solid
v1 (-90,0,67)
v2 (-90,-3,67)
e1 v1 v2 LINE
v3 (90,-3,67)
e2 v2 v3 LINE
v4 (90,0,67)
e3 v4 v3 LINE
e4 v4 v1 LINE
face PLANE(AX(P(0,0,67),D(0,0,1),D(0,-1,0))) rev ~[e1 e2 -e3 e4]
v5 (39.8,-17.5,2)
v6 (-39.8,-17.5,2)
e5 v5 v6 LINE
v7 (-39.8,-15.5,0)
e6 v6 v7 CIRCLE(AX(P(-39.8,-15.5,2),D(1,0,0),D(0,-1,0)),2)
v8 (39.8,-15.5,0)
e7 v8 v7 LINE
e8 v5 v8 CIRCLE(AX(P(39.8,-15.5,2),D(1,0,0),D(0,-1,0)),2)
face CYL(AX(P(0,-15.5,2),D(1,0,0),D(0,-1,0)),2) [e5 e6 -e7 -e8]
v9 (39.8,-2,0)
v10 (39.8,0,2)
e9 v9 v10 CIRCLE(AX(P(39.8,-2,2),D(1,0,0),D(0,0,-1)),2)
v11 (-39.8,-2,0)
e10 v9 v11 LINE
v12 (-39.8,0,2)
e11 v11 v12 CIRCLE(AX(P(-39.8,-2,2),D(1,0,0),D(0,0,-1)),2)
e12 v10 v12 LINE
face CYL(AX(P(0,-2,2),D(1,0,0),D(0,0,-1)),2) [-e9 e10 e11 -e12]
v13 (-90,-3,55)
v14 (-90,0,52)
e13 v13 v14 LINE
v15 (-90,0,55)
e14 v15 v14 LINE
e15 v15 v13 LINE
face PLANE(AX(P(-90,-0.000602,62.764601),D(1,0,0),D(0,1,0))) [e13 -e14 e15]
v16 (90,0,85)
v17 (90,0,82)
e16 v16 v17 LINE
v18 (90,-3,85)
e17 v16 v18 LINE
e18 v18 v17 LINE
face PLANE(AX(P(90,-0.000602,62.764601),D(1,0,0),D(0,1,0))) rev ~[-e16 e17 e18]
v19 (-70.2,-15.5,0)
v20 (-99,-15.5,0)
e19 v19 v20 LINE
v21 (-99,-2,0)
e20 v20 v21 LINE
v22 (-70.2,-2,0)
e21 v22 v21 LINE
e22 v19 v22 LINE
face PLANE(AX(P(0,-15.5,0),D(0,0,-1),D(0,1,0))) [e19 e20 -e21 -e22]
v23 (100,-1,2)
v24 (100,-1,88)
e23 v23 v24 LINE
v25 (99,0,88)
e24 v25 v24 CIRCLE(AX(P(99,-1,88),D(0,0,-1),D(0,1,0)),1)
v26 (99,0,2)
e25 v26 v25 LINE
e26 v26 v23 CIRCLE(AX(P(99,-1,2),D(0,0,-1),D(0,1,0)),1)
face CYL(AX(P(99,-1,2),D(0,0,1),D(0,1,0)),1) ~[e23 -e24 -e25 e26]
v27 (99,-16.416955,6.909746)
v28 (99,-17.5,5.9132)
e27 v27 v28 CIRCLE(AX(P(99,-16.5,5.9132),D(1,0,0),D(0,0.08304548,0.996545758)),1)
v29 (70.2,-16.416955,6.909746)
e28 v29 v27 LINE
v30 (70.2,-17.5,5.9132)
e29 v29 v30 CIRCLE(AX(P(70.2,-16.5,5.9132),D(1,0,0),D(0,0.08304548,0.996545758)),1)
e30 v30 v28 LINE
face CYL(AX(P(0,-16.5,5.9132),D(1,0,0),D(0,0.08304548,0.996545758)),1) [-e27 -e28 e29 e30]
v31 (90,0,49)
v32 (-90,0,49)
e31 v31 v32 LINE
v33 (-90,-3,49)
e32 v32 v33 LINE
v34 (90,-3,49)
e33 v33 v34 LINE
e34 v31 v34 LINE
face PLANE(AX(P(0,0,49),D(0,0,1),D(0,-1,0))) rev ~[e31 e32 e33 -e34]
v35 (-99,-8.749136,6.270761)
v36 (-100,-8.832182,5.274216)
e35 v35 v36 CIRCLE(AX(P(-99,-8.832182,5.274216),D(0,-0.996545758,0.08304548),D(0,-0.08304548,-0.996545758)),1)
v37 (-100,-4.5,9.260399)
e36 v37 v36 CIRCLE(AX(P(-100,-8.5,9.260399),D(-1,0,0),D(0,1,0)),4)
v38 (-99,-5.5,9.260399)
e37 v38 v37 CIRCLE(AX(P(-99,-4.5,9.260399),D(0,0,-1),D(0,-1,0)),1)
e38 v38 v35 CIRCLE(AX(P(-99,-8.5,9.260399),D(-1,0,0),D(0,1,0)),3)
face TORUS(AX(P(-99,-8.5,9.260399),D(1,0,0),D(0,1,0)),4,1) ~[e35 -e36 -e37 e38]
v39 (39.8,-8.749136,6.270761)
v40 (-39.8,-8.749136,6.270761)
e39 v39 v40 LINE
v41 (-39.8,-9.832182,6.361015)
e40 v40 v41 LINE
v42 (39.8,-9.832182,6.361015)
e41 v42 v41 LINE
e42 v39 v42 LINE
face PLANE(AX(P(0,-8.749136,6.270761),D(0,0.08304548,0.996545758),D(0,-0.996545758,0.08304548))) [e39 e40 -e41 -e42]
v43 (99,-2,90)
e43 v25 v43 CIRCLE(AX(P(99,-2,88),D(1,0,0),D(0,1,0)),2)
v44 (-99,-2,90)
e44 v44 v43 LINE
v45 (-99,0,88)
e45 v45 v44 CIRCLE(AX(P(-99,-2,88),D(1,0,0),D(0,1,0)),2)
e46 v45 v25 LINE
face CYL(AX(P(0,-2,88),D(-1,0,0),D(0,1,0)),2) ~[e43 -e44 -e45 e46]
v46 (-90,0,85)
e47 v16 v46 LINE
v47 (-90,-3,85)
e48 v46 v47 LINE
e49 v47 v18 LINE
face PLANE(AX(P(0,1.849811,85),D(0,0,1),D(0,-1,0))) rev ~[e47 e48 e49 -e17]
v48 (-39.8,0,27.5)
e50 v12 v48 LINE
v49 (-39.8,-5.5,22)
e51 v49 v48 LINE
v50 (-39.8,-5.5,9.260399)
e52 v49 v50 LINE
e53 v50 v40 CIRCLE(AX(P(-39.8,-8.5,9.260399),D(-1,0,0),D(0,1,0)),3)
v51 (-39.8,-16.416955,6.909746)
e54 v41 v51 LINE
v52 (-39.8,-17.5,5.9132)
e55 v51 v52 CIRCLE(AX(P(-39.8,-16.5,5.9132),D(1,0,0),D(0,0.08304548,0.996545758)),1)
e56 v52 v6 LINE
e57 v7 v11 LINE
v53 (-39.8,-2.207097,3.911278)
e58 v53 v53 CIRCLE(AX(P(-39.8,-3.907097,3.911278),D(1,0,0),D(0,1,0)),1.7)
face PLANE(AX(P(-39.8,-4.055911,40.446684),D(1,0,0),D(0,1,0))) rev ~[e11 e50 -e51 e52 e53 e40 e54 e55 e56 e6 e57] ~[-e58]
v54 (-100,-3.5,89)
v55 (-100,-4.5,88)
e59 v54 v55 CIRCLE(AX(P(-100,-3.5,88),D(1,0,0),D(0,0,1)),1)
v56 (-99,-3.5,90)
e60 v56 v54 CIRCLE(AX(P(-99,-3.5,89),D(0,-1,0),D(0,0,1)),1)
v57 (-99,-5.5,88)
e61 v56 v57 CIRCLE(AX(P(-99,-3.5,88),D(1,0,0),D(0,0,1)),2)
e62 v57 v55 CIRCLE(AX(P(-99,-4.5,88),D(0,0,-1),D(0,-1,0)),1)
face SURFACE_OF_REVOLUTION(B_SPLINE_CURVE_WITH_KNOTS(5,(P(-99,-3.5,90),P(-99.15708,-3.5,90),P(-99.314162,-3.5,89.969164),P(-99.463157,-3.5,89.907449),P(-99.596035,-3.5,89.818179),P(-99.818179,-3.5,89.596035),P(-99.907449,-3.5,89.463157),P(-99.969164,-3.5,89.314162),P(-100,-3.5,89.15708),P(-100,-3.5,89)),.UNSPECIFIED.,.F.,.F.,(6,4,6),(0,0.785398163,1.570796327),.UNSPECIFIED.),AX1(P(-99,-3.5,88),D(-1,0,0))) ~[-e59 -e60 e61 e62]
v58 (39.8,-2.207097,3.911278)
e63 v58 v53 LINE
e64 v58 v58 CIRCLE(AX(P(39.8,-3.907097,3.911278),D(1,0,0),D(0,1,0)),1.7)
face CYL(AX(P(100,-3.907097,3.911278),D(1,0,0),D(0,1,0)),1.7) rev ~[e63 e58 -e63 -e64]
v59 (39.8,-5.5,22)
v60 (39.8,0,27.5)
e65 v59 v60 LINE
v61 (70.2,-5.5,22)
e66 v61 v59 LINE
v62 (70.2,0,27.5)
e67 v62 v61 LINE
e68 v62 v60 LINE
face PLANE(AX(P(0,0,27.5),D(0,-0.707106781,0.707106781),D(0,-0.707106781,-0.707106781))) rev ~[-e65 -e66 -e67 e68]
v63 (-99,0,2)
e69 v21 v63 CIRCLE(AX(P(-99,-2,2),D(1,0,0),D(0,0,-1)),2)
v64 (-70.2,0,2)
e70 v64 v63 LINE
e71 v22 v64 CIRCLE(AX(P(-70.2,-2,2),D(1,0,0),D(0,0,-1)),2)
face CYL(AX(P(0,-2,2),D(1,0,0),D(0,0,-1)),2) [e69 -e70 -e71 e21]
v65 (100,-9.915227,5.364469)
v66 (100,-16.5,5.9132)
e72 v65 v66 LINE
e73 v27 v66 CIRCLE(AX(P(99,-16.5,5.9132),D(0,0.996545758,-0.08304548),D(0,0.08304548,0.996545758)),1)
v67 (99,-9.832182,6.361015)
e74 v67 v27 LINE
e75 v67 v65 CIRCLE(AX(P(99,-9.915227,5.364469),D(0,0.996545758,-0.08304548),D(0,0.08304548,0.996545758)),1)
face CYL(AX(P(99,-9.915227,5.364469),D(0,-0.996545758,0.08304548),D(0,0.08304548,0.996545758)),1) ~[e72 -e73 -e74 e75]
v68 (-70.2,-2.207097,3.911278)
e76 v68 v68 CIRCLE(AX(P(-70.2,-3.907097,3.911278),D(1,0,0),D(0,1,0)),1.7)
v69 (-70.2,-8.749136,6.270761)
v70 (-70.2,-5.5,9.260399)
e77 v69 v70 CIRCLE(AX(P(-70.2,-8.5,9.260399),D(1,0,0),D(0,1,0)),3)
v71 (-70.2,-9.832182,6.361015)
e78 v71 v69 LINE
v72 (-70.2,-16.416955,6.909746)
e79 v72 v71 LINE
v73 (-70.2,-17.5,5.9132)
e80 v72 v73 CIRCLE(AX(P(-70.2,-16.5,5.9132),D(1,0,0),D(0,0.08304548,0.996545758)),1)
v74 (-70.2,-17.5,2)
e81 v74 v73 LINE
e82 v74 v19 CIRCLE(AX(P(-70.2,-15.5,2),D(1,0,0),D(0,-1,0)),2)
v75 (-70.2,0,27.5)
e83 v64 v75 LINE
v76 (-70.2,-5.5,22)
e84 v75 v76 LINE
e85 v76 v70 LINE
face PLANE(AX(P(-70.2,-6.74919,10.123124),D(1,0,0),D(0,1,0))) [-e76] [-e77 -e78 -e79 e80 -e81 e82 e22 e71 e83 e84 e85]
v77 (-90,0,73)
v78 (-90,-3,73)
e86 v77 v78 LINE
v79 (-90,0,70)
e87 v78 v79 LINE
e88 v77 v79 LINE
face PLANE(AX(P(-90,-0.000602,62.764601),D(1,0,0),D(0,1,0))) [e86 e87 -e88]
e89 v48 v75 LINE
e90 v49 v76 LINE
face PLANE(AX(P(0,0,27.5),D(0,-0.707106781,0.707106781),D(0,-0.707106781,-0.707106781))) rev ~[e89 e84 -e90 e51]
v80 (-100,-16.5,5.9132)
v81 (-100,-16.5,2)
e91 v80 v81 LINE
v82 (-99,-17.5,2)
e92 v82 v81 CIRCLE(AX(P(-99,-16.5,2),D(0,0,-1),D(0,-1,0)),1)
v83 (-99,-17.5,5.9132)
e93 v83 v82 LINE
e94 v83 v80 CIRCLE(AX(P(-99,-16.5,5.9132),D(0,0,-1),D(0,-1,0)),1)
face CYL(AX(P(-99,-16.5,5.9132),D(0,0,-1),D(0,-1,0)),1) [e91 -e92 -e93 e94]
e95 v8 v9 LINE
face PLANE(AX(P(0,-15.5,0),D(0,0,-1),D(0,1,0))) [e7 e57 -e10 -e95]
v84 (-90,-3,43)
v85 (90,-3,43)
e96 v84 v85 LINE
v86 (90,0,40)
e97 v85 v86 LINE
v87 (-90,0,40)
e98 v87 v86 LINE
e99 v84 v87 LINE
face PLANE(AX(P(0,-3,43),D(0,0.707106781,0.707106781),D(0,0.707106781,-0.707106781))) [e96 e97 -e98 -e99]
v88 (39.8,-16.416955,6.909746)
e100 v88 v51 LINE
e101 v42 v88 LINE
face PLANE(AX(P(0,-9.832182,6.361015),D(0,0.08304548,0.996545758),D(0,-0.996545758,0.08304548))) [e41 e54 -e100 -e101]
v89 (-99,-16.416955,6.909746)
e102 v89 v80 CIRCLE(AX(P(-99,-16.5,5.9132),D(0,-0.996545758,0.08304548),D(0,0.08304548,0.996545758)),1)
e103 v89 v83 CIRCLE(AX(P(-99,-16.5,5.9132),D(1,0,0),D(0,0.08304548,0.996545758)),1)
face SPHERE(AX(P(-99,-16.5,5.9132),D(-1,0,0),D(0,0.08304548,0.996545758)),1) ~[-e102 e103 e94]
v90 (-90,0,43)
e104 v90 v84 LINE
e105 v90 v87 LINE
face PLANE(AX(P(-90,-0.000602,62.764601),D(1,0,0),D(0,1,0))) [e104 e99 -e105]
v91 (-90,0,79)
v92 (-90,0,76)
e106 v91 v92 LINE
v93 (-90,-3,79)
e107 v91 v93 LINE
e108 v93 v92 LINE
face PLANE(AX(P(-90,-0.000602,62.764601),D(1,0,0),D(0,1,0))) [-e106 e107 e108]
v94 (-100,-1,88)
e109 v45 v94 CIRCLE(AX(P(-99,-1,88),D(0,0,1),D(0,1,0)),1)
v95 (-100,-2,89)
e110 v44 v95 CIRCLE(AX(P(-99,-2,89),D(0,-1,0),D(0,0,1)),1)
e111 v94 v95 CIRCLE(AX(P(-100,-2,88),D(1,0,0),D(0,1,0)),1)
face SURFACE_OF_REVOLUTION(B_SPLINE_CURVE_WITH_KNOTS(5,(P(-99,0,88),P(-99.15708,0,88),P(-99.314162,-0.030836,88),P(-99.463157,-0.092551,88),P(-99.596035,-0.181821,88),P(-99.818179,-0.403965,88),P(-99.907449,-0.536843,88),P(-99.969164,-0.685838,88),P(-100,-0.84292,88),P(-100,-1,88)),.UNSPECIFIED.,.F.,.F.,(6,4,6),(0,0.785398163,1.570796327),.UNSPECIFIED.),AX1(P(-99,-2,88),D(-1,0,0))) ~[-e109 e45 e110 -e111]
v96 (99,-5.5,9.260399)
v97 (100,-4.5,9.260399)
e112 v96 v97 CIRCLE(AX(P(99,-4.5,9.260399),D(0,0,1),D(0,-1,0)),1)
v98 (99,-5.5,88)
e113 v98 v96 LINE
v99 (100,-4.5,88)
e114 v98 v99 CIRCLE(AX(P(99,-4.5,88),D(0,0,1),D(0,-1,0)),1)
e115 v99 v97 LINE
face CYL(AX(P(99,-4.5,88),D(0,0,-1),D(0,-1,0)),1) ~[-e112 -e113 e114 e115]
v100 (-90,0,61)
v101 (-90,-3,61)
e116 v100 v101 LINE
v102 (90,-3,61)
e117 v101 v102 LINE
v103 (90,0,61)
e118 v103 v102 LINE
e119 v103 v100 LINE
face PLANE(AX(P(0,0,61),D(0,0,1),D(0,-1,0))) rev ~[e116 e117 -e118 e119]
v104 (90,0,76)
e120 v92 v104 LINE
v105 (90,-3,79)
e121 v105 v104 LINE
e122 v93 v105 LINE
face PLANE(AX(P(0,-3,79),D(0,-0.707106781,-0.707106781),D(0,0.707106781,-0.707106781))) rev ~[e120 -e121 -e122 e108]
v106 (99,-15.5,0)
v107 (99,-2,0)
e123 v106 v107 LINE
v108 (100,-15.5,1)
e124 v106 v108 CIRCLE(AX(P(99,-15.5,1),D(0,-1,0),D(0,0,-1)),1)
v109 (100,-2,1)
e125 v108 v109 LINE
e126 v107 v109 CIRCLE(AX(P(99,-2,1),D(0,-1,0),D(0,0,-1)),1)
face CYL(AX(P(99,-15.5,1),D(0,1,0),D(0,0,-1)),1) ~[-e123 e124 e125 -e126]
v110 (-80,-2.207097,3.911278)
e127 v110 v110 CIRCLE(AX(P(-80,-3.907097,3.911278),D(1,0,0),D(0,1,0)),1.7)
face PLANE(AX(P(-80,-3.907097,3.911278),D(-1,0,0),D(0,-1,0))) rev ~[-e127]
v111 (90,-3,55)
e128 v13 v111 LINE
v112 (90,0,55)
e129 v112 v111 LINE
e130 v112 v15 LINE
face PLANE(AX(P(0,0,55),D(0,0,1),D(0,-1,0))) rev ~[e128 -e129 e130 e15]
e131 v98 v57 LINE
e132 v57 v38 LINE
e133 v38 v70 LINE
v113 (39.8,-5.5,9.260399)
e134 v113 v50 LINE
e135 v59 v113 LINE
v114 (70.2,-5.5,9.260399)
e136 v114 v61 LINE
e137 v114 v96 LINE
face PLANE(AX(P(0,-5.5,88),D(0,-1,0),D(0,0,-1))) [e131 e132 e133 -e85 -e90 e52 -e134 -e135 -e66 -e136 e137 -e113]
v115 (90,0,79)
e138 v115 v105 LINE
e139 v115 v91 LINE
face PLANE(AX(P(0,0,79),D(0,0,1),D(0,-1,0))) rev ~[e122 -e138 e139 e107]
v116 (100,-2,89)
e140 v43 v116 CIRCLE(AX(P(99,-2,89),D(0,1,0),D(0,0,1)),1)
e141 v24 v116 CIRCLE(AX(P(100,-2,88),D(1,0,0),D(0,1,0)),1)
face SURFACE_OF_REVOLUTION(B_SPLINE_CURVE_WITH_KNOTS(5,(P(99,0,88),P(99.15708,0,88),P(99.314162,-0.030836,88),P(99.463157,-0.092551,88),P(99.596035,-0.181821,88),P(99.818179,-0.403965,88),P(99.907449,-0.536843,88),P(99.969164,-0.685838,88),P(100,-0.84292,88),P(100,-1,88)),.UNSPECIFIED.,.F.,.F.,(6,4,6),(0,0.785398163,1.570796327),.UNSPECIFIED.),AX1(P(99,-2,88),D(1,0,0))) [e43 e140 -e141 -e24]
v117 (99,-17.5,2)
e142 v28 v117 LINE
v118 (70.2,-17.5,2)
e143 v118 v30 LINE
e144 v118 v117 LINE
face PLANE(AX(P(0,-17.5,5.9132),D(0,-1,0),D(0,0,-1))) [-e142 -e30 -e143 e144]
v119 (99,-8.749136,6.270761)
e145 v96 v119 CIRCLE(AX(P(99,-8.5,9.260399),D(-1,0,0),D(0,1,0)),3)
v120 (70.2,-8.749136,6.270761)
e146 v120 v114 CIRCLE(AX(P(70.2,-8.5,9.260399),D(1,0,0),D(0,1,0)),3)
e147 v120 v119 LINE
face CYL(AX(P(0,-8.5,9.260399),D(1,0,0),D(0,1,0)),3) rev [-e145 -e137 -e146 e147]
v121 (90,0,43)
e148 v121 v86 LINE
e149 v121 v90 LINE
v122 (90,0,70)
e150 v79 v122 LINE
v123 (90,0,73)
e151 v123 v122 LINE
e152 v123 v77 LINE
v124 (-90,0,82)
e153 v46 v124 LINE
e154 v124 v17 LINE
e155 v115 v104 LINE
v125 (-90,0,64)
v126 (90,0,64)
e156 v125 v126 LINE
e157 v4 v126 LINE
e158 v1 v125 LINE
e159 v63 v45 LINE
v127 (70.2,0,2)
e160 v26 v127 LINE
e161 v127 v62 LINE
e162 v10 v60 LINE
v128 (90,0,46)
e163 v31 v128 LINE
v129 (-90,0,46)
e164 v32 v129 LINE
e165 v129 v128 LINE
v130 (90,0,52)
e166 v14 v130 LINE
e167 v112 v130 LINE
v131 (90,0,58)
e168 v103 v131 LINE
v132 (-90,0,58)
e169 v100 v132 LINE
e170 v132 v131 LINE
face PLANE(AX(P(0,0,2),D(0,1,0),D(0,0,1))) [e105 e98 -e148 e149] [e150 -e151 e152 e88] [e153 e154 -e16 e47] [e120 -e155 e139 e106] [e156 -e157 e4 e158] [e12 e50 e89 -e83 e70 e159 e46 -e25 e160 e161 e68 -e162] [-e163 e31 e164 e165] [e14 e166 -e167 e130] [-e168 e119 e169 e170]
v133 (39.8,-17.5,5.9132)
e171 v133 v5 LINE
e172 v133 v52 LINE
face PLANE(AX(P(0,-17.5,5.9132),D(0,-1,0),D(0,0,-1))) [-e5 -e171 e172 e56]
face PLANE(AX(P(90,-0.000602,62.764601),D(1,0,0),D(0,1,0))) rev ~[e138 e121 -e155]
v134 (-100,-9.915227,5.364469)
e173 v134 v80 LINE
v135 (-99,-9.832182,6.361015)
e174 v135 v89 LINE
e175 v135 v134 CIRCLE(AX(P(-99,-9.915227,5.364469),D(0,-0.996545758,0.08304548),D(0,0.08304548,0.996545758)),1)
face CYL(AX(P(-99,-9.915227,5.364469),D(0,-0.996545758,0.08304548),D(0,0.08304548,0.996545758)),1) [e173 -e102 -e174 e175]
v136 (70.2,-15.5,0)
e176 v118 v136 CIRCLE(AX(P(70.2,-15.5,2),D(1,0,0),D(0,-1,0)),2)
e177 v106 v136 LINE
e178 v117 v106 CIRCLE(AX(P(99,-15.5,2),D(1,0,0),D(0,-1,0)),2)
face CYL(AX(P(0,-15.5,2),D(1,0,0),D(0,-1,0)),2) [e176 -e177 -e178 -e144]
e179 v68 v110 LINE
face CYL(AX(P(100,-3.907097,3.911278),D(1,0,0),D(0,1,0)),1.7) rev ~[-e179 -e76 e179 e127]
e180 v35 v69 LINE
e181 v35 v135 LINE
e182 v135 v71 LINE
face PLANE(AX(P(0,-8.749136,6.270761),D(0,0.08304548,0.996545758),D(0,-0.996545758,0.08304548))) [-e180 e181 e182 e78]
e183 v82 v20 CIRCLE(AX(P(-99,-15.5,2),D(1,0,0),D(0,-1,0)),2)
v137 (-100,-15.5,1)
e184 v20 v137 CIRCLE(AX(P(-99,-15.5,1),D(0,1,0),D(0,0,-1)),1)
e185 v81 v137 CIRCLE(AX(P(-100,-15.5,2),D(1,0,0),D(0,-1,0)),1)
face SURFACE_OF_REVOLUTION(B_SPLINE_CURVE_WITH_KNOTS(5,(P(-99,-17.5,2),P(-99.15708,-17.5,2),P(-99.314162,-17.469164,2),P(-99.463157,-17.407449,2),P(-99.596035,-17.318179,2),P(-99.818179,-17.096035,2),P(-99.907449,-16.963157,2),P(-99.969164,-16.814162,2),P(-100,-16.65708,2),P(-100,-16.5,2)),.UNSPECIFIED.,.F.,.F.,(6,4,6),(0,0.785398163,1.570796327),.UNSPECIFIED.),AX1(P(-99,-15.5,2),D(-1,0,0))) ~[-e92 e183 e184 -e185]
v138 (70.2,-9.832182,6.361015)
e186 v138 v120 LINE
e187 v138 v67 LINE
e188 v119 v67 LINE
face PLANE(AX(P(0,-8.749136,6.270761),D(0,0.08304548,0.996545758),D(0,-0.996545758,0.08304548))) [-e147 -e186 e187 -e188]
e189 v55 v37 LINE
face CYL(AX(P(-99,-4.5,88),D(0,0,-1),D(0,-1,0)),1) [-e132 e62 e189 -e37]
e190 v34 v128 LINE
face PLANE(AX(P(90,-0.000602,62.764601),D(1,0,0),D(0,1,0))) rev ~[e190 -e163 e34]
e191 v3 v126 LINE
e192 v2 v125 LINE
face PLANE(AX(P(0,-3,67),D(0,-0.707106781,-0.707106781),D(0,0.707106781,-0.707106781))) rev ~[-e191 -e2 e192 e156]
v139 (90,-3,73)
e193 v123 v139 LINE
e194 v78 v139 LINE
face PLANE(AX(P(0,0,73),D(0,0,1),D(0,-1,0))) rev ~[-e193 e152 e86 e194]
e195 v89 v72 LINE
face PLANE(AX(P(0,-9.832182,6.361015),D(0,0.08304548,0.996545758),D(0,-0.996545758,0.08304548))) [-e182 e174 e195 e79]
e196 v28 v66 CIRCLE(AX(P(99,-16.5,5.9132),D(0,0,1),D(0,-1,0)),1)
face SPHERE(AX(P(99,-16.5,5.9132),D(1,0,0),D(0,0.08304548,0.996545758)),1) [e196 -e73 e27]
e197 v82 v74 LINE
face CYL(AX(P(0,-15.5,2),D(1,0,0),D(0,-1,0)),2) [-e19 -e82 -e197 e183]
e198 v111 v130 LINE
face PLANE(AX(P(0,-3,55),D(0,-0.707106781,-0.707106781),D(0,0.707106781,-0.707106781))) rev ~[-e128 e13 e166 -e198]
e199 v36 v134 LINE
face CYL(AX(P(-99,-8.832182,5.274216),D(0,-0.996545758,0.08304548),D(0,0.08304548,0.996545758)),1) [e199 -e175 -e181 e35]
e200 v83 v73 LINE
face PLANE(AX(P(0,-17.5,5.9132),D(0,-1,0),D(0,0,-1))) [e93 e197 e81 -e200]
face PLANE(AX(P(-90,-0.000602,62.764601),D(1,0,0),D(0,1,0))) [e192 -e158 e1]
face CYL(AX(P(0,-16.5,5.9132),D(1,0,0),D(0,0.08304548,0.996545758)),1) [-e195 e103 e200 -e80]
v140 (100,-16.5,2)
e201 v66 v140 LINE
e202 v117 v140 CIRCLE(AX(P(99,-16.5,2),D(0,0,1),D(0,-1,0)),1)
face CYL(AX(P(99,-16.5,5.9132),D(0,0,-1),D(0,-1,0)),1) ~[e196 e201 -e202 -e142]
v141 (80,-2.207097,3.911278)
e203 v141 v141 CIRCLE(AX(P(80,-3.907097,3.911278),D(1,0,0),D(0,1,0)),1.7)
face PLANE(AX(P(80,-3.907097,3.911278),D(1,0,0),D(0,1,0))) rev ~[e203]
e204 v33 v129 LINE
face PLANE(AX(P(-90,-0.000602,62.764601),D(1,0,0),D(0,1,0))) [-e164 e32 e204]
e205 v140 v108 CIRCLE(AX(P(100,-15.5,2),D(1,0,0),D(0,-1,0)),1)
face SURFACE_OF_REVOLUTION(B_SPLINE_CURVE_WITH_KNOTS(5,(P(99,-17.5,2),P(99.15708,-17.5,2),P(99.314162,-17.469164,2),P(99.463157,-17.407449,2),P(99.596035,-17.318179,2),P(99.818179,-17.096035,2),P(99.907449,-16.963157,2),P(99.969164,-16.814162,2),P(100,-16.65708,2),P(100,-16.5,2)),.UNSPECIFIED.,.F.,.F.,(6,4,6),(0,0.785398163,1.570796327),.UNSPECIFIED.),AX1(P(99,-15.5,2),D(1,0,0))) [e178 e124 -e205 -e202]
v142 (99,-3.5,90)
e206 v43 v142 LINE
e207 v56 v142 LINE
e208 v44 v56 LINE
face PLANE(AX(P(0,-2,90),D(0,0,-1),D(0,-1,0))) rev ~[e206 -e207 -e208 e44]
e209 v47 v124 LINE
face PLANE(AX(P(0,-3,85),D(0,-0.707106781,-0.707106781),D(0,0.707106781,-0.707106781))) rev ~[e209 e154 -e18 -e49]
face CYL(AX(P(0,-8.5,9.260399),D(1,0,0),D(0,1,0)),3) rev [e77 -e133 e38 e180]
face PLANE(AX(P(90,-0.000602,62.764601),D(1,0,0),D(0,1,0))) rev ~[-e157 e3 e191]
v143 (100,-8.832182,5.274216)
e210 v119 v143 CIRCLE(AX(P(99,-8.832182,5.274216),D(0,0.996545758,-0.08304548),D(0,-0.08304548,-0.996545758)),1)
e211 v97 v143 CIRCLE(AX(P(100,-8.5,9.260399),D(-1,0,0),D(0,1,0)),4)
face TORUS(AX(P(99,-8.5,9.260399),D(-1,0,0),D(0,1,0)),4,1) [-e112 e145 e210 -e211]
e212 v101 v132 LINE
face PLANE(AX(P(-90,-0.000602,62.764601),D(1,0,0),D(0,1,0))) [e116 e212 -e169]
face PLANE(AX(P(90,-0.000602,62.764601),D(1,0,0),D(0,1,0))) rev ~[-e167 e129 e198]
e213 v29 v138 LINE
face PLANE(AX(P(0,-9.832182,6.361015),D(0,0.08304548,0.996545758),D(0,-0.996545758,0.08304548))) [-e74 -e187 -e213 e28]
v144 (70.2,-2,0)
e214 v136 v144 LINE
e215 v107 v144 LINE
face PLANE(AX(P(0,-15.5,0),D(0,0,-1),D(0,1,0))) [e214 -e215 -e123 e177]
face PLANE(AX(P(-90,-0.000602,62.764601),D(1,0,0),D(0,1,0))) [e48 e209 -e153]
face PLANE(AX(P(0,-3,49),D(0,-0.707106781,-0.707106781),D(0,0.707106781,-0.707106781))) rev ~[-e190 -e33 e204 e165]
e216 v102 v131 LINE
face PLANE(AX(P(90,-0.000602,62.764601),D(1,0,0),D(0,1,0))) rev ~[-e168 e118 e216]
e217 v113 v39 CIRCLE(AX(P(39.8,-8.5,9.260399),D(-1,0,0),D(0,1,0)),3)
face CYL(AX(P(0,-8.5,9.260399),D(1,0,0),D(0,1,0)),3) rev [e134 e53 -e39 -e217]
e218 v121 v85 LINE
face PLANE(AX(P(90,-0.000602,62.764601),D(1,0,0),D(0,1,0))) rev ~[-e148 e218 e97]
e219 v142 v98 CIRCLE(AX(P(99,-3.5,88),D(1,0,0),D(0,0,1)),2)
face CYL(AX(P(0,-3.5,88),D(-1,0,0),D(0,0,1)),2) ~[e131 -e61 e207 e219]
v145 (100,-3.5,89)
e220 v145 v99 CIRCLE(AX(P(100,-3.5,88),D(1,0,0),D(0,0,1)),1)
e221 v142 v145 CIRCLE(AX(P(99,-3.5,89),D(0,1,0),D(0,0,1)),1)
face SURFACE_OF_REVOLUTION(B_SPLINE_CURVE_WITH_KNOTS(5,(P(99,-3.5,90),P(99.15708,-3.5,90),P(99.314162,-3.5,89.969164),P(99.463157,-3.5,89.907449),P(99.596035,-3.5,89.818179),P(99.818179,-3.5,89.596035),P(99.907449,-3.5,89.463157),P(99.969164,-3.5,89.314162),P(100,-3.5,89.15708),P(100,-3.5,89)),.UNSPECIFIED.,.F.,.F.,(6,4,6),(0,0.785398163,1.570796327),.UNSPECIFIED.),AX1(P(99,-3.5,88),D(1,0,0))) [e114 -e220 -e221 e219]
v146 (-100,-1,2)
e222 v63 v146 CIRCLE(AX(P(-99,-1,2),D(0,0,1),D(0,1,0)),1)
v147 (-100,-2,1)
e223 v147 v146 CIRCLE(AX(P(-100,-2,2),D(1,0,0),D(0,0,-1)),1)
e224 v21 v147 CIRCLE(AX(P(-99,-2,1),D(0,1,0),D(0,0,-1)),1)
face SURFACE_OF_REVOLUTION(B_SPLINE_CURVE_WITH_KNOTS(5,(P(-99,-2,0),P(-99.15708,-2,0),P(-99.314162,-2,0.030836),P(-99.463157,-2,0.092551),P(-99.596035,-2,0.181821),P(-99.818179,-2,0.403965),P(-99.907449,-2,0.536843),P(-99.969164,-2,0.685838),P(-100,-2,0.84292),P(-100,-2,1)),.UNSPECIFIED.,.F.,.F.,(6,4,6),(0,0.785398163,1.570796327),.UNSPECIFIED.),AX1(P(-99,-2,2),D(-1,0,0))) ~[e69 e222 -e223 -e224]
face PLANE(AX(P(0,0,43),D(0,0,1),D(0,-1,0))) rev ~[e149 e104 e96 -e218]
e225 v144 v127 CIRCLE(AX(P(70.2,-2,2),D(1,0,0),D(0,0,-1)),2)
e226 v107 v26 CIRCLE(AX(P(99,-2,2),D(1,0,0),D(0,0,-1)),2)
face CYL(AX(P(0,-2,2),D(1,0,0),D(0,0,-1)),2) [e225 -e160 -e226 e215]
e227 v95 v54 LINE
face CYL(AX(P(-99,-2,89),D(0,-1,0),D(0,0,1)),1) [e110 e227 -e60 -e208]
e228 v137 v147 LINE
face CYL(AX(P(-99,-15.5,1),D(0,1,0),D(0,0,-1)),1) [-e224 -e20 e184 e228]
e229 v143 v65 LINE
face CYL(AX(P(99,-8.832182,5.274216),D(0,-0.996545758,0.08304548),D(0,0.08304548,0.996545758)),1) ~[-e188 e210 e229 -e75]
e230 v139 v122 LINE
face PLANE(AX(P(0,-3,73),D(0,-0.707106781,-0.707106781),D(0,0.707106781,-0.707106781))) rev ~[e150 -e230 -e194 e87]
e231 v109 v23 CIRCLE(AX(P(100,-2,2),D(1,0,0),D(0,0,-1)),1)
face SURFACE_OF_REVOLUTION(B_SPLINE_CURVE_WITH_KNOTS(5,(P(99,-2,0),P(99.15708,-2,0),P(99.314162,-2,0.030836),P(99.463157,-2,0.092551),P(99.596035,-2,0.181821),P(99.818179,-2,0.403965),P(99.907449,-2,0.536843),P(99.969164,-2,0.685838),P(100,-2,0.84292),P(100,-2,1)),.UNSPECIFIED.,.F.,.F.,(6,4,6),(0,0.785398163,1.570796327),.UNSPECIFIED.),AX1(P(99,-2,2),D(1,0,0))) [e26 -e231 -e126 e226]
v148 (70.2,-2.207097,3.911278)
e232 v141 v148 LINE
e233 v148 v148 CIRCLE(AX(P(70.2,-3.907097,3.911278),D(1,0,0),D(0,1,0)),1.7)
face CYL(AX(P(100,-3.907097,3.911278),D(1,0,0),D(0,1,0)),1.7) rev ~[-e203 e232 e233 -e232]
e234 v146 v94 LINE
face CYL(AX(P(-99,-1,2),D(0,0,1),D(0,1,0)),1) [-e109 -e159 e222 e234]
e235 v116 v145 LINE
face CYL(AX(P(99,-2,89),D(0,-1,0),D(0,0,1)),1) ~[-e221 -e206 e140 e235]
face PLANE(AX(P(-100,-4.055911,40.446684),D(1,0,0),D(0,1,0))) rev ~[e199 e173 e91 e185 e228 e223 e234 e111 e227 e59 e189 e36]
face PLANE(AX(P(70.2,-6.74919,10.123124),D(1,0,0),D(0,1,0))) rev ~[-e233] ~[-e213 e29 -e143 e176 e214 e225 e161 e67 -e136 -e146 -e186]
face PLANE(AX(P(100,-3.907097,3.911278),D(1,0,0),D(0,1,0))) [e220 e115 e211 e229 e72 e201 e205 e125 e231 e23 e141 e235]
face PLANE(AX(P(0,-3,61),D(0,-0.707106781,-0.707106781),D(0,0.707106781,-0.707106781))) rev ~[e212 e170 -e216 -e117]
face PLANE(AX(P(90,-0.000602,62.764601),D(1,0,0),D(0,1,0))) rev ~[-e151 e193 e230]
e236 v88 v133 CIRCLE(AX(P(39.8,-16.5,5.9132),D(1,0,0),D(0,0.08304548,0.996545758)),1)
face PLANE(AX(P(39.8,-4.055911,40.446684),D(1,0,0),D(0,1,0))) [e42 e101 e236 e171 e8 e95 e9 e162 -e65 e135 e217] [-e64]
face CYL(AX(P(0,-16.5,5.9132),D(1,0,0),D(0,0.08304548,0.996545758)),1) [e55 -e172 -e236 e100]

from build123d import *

# Parameters (mm, degrees)
F1_DEPTH      = 100
F1_DEPTH_BACK = 100
F2_R          = 1
F5_DEPTH      = 70.2
F5_DEPTH_BACK = 70.2
F6_DEPTH      = 39.8
F6_DEPTH_BACK = 39.8
F3_R          = 1.7
F7_DEPTH      = 200.001
F9_DEPTH      = 90
F9_DEPTH_BACK = 90
F10_R         = 1.7
F11_DEPTH     = 20
F12_R         = 2.1690040251
F13_DEPTH     = 20


with BuildPart() as f1:
    # F0 (on Right) → F1 (new body, two sides)
    with BuildSketch(Plane.YZ) as f1_sk:
        with BuildLine():
            Line((0, 2), (0, 88))
            ThreePointArc((0, 88), (-0.5857864376, 89.4142135624), (-2, 90))
            Line((-2, 90), (-3.5, 90))
            ThreePointArc((-3.5, 90), (-4.9142135624, 89.4142135624), (-5.5, 88))
            Line((-5.5, 88), (-5.5, 43.945170586))
            Line((-5.5, 43.945170586), (-5.5, 9.2603986447))
            ThreePointArc((-5.5, 9.2603986447), (-6.468671533, 7.0527517845), (-8.7491364396, 6.27076137))
            Line((-8.7491364396, 6.27076137), (-9.8321819194, 6.36101516))
            Line((-9.8321819194, 6.36101516), (-16.4169545201, 6.90974621))
            ThreePointArc((-16.4169545201, 6.90974621), (-17.177109489, 6.6490827385), (-17.5, 5.9132004518))
            Line((-17.5, 5.9132004518), (-17.5, 2))
            ThreePointArc((-17.5, 2), (-16.9142135624, 0.5857864376), (-15.5, 0))
            Line((-15.5, 0), (-2, 0))
            ThreePointArc((-2, 0), (-0.5857864376, 0.5857864376), (0, 2))
        make_face()
    extrude(amount=F1_DEPTH)
    extrude(f1_sk.sketch, amount=-F1_DEPTH_BACK)

    # F2
    f2_edges = [f1.edges().sort_by_distance(p)[0] for p in [
        (-100, 0, 45),
        (100, 0, 45),
    ]]
    fillet(f2_edges, radius=F2_R)

    # F4 (on Right) → F5 (cut, two sides)
    with BuildSketch(Plane.YZ) as f5_sk:
        Polygon((-8.8815924794, 6.6997300052), (-19.3425188781, 7.6679212159), (-19.3425188781, 0), (0, 0), (0, 27.5), (-5.5, 22), (-5.5, 9.4664877642), align=None)
    extrude(amount=F5_DEPTH, mode=Mode.SUBTRACT)
    extrude(f5_sk.sketch, amount=-F5_DEPTH_BACK, mode=Mode.SUBTRACT)

    # F0 (on Right) → F6 (join, two sides)
    with BuildSketch(Plane.YZ) as f6_sk:
        with BuildLine():
            Line((0, 2), (0, 88))
            ThreePointArc((0, 88), (-0.5857864376, 89.4142135624), (-2, 90))
            Line((-2, 90), (-3.5, 90))
            ThreePointArc((-3.5, 90), (-4.9142135624, 89.4142135624), (-5.5, 88))
            Line((-5.5, 88), (-5.5, 43.945170586))
            Line((-5.5, 43.945170586), (-5.5, 9.2603986447))
            ThreePointArc((-5.5, 9.2603986447), (-6.468671533, 7.0527517845), (-8.7491364396, 6.27076137))
            Line((-8.7491364396, 6.27076137), (-9.8321819194, 6.36101516))
            Line((-9.8321819194, 6.36101516), (-16.4169545201, 6.90974621))
            ThreePointArc((-16.4169545201, 6.90974621), (-17.177109489, 6.6490827385), (-17.5, 5.9132004518))
            Line((-17.5, 5.9132004518), (-17.5, 2))
            ThreePointArc((-17.5, 2), (-16.9142135624, 0.5857864376), (-15.5, 0))
            Line((-15.5, 0), (-2, 0))
            ThreePointArc((-2, 0), (-0.5857864376, 0.5857864376), (0, 2))
        make_face()
    extrude(amount=F6_DEPTH)
    extrude(f6_sk.sketch, amount=-F6_DEPTH_BACK)

    # F3 (on face) → F7 (cut, through all)
    with BuildSketch(Plane.YZ.offset(100)):
        with Locations((-3.9070966475, 3.9112776819)):
            Circle(F3_R)
    extrude(amount=-F7_DEPTH, mode=Mode.SUBTRACT)

    # F8 (on Right) → F9 (cut, two sides)
    with BuildSketch(Plane.YZ) as f9_sk:
        Polygon((1.8498107092, 85), (0, 85), (-3, 85), (0, 82), (0, 79), (-3, 79), (0, 76), (0, 73), (-3, 73), (0, 70), (0, 67), (-3, 67), (0, 64), (0, 61), (-3, 61), (0, 58), (0, 55), (-3, 55), (0, 52), (0, 49), (-3, 49), (0, 46), (0, 43), (-3, 43), (0, 40), (1.8498107092, 39.9083867669), align=None)
    extrude(amount=-F9_DEPTH, mode=Mode.SUBTRACT)
    extrude(f9_sk.sketch, amount=F9_DEPTH_BACK, mode=Mode.SUBTRACT)

    # F10 (on face) → F11 (join)
    with BuildSketch(Plane.YZ.offset(100)):
        with Locations((-3.9070966475, 3.9112776819)):
            Circle(F10_R)
    extrude(amount=-F11_DEPTH)

    # F12 (on face) → F13 (join)
    with BuildSketch(Plane(origin=(-100, 0, 0), x_dir=(0, -1, 0), z_dir=(-1, 0, 0))):
        with Locations((3.9070966475, 3.9112776819)):
            Circle(F12_R)
    extrude(amount=-F13_DEPTH)


solid = f1.part
